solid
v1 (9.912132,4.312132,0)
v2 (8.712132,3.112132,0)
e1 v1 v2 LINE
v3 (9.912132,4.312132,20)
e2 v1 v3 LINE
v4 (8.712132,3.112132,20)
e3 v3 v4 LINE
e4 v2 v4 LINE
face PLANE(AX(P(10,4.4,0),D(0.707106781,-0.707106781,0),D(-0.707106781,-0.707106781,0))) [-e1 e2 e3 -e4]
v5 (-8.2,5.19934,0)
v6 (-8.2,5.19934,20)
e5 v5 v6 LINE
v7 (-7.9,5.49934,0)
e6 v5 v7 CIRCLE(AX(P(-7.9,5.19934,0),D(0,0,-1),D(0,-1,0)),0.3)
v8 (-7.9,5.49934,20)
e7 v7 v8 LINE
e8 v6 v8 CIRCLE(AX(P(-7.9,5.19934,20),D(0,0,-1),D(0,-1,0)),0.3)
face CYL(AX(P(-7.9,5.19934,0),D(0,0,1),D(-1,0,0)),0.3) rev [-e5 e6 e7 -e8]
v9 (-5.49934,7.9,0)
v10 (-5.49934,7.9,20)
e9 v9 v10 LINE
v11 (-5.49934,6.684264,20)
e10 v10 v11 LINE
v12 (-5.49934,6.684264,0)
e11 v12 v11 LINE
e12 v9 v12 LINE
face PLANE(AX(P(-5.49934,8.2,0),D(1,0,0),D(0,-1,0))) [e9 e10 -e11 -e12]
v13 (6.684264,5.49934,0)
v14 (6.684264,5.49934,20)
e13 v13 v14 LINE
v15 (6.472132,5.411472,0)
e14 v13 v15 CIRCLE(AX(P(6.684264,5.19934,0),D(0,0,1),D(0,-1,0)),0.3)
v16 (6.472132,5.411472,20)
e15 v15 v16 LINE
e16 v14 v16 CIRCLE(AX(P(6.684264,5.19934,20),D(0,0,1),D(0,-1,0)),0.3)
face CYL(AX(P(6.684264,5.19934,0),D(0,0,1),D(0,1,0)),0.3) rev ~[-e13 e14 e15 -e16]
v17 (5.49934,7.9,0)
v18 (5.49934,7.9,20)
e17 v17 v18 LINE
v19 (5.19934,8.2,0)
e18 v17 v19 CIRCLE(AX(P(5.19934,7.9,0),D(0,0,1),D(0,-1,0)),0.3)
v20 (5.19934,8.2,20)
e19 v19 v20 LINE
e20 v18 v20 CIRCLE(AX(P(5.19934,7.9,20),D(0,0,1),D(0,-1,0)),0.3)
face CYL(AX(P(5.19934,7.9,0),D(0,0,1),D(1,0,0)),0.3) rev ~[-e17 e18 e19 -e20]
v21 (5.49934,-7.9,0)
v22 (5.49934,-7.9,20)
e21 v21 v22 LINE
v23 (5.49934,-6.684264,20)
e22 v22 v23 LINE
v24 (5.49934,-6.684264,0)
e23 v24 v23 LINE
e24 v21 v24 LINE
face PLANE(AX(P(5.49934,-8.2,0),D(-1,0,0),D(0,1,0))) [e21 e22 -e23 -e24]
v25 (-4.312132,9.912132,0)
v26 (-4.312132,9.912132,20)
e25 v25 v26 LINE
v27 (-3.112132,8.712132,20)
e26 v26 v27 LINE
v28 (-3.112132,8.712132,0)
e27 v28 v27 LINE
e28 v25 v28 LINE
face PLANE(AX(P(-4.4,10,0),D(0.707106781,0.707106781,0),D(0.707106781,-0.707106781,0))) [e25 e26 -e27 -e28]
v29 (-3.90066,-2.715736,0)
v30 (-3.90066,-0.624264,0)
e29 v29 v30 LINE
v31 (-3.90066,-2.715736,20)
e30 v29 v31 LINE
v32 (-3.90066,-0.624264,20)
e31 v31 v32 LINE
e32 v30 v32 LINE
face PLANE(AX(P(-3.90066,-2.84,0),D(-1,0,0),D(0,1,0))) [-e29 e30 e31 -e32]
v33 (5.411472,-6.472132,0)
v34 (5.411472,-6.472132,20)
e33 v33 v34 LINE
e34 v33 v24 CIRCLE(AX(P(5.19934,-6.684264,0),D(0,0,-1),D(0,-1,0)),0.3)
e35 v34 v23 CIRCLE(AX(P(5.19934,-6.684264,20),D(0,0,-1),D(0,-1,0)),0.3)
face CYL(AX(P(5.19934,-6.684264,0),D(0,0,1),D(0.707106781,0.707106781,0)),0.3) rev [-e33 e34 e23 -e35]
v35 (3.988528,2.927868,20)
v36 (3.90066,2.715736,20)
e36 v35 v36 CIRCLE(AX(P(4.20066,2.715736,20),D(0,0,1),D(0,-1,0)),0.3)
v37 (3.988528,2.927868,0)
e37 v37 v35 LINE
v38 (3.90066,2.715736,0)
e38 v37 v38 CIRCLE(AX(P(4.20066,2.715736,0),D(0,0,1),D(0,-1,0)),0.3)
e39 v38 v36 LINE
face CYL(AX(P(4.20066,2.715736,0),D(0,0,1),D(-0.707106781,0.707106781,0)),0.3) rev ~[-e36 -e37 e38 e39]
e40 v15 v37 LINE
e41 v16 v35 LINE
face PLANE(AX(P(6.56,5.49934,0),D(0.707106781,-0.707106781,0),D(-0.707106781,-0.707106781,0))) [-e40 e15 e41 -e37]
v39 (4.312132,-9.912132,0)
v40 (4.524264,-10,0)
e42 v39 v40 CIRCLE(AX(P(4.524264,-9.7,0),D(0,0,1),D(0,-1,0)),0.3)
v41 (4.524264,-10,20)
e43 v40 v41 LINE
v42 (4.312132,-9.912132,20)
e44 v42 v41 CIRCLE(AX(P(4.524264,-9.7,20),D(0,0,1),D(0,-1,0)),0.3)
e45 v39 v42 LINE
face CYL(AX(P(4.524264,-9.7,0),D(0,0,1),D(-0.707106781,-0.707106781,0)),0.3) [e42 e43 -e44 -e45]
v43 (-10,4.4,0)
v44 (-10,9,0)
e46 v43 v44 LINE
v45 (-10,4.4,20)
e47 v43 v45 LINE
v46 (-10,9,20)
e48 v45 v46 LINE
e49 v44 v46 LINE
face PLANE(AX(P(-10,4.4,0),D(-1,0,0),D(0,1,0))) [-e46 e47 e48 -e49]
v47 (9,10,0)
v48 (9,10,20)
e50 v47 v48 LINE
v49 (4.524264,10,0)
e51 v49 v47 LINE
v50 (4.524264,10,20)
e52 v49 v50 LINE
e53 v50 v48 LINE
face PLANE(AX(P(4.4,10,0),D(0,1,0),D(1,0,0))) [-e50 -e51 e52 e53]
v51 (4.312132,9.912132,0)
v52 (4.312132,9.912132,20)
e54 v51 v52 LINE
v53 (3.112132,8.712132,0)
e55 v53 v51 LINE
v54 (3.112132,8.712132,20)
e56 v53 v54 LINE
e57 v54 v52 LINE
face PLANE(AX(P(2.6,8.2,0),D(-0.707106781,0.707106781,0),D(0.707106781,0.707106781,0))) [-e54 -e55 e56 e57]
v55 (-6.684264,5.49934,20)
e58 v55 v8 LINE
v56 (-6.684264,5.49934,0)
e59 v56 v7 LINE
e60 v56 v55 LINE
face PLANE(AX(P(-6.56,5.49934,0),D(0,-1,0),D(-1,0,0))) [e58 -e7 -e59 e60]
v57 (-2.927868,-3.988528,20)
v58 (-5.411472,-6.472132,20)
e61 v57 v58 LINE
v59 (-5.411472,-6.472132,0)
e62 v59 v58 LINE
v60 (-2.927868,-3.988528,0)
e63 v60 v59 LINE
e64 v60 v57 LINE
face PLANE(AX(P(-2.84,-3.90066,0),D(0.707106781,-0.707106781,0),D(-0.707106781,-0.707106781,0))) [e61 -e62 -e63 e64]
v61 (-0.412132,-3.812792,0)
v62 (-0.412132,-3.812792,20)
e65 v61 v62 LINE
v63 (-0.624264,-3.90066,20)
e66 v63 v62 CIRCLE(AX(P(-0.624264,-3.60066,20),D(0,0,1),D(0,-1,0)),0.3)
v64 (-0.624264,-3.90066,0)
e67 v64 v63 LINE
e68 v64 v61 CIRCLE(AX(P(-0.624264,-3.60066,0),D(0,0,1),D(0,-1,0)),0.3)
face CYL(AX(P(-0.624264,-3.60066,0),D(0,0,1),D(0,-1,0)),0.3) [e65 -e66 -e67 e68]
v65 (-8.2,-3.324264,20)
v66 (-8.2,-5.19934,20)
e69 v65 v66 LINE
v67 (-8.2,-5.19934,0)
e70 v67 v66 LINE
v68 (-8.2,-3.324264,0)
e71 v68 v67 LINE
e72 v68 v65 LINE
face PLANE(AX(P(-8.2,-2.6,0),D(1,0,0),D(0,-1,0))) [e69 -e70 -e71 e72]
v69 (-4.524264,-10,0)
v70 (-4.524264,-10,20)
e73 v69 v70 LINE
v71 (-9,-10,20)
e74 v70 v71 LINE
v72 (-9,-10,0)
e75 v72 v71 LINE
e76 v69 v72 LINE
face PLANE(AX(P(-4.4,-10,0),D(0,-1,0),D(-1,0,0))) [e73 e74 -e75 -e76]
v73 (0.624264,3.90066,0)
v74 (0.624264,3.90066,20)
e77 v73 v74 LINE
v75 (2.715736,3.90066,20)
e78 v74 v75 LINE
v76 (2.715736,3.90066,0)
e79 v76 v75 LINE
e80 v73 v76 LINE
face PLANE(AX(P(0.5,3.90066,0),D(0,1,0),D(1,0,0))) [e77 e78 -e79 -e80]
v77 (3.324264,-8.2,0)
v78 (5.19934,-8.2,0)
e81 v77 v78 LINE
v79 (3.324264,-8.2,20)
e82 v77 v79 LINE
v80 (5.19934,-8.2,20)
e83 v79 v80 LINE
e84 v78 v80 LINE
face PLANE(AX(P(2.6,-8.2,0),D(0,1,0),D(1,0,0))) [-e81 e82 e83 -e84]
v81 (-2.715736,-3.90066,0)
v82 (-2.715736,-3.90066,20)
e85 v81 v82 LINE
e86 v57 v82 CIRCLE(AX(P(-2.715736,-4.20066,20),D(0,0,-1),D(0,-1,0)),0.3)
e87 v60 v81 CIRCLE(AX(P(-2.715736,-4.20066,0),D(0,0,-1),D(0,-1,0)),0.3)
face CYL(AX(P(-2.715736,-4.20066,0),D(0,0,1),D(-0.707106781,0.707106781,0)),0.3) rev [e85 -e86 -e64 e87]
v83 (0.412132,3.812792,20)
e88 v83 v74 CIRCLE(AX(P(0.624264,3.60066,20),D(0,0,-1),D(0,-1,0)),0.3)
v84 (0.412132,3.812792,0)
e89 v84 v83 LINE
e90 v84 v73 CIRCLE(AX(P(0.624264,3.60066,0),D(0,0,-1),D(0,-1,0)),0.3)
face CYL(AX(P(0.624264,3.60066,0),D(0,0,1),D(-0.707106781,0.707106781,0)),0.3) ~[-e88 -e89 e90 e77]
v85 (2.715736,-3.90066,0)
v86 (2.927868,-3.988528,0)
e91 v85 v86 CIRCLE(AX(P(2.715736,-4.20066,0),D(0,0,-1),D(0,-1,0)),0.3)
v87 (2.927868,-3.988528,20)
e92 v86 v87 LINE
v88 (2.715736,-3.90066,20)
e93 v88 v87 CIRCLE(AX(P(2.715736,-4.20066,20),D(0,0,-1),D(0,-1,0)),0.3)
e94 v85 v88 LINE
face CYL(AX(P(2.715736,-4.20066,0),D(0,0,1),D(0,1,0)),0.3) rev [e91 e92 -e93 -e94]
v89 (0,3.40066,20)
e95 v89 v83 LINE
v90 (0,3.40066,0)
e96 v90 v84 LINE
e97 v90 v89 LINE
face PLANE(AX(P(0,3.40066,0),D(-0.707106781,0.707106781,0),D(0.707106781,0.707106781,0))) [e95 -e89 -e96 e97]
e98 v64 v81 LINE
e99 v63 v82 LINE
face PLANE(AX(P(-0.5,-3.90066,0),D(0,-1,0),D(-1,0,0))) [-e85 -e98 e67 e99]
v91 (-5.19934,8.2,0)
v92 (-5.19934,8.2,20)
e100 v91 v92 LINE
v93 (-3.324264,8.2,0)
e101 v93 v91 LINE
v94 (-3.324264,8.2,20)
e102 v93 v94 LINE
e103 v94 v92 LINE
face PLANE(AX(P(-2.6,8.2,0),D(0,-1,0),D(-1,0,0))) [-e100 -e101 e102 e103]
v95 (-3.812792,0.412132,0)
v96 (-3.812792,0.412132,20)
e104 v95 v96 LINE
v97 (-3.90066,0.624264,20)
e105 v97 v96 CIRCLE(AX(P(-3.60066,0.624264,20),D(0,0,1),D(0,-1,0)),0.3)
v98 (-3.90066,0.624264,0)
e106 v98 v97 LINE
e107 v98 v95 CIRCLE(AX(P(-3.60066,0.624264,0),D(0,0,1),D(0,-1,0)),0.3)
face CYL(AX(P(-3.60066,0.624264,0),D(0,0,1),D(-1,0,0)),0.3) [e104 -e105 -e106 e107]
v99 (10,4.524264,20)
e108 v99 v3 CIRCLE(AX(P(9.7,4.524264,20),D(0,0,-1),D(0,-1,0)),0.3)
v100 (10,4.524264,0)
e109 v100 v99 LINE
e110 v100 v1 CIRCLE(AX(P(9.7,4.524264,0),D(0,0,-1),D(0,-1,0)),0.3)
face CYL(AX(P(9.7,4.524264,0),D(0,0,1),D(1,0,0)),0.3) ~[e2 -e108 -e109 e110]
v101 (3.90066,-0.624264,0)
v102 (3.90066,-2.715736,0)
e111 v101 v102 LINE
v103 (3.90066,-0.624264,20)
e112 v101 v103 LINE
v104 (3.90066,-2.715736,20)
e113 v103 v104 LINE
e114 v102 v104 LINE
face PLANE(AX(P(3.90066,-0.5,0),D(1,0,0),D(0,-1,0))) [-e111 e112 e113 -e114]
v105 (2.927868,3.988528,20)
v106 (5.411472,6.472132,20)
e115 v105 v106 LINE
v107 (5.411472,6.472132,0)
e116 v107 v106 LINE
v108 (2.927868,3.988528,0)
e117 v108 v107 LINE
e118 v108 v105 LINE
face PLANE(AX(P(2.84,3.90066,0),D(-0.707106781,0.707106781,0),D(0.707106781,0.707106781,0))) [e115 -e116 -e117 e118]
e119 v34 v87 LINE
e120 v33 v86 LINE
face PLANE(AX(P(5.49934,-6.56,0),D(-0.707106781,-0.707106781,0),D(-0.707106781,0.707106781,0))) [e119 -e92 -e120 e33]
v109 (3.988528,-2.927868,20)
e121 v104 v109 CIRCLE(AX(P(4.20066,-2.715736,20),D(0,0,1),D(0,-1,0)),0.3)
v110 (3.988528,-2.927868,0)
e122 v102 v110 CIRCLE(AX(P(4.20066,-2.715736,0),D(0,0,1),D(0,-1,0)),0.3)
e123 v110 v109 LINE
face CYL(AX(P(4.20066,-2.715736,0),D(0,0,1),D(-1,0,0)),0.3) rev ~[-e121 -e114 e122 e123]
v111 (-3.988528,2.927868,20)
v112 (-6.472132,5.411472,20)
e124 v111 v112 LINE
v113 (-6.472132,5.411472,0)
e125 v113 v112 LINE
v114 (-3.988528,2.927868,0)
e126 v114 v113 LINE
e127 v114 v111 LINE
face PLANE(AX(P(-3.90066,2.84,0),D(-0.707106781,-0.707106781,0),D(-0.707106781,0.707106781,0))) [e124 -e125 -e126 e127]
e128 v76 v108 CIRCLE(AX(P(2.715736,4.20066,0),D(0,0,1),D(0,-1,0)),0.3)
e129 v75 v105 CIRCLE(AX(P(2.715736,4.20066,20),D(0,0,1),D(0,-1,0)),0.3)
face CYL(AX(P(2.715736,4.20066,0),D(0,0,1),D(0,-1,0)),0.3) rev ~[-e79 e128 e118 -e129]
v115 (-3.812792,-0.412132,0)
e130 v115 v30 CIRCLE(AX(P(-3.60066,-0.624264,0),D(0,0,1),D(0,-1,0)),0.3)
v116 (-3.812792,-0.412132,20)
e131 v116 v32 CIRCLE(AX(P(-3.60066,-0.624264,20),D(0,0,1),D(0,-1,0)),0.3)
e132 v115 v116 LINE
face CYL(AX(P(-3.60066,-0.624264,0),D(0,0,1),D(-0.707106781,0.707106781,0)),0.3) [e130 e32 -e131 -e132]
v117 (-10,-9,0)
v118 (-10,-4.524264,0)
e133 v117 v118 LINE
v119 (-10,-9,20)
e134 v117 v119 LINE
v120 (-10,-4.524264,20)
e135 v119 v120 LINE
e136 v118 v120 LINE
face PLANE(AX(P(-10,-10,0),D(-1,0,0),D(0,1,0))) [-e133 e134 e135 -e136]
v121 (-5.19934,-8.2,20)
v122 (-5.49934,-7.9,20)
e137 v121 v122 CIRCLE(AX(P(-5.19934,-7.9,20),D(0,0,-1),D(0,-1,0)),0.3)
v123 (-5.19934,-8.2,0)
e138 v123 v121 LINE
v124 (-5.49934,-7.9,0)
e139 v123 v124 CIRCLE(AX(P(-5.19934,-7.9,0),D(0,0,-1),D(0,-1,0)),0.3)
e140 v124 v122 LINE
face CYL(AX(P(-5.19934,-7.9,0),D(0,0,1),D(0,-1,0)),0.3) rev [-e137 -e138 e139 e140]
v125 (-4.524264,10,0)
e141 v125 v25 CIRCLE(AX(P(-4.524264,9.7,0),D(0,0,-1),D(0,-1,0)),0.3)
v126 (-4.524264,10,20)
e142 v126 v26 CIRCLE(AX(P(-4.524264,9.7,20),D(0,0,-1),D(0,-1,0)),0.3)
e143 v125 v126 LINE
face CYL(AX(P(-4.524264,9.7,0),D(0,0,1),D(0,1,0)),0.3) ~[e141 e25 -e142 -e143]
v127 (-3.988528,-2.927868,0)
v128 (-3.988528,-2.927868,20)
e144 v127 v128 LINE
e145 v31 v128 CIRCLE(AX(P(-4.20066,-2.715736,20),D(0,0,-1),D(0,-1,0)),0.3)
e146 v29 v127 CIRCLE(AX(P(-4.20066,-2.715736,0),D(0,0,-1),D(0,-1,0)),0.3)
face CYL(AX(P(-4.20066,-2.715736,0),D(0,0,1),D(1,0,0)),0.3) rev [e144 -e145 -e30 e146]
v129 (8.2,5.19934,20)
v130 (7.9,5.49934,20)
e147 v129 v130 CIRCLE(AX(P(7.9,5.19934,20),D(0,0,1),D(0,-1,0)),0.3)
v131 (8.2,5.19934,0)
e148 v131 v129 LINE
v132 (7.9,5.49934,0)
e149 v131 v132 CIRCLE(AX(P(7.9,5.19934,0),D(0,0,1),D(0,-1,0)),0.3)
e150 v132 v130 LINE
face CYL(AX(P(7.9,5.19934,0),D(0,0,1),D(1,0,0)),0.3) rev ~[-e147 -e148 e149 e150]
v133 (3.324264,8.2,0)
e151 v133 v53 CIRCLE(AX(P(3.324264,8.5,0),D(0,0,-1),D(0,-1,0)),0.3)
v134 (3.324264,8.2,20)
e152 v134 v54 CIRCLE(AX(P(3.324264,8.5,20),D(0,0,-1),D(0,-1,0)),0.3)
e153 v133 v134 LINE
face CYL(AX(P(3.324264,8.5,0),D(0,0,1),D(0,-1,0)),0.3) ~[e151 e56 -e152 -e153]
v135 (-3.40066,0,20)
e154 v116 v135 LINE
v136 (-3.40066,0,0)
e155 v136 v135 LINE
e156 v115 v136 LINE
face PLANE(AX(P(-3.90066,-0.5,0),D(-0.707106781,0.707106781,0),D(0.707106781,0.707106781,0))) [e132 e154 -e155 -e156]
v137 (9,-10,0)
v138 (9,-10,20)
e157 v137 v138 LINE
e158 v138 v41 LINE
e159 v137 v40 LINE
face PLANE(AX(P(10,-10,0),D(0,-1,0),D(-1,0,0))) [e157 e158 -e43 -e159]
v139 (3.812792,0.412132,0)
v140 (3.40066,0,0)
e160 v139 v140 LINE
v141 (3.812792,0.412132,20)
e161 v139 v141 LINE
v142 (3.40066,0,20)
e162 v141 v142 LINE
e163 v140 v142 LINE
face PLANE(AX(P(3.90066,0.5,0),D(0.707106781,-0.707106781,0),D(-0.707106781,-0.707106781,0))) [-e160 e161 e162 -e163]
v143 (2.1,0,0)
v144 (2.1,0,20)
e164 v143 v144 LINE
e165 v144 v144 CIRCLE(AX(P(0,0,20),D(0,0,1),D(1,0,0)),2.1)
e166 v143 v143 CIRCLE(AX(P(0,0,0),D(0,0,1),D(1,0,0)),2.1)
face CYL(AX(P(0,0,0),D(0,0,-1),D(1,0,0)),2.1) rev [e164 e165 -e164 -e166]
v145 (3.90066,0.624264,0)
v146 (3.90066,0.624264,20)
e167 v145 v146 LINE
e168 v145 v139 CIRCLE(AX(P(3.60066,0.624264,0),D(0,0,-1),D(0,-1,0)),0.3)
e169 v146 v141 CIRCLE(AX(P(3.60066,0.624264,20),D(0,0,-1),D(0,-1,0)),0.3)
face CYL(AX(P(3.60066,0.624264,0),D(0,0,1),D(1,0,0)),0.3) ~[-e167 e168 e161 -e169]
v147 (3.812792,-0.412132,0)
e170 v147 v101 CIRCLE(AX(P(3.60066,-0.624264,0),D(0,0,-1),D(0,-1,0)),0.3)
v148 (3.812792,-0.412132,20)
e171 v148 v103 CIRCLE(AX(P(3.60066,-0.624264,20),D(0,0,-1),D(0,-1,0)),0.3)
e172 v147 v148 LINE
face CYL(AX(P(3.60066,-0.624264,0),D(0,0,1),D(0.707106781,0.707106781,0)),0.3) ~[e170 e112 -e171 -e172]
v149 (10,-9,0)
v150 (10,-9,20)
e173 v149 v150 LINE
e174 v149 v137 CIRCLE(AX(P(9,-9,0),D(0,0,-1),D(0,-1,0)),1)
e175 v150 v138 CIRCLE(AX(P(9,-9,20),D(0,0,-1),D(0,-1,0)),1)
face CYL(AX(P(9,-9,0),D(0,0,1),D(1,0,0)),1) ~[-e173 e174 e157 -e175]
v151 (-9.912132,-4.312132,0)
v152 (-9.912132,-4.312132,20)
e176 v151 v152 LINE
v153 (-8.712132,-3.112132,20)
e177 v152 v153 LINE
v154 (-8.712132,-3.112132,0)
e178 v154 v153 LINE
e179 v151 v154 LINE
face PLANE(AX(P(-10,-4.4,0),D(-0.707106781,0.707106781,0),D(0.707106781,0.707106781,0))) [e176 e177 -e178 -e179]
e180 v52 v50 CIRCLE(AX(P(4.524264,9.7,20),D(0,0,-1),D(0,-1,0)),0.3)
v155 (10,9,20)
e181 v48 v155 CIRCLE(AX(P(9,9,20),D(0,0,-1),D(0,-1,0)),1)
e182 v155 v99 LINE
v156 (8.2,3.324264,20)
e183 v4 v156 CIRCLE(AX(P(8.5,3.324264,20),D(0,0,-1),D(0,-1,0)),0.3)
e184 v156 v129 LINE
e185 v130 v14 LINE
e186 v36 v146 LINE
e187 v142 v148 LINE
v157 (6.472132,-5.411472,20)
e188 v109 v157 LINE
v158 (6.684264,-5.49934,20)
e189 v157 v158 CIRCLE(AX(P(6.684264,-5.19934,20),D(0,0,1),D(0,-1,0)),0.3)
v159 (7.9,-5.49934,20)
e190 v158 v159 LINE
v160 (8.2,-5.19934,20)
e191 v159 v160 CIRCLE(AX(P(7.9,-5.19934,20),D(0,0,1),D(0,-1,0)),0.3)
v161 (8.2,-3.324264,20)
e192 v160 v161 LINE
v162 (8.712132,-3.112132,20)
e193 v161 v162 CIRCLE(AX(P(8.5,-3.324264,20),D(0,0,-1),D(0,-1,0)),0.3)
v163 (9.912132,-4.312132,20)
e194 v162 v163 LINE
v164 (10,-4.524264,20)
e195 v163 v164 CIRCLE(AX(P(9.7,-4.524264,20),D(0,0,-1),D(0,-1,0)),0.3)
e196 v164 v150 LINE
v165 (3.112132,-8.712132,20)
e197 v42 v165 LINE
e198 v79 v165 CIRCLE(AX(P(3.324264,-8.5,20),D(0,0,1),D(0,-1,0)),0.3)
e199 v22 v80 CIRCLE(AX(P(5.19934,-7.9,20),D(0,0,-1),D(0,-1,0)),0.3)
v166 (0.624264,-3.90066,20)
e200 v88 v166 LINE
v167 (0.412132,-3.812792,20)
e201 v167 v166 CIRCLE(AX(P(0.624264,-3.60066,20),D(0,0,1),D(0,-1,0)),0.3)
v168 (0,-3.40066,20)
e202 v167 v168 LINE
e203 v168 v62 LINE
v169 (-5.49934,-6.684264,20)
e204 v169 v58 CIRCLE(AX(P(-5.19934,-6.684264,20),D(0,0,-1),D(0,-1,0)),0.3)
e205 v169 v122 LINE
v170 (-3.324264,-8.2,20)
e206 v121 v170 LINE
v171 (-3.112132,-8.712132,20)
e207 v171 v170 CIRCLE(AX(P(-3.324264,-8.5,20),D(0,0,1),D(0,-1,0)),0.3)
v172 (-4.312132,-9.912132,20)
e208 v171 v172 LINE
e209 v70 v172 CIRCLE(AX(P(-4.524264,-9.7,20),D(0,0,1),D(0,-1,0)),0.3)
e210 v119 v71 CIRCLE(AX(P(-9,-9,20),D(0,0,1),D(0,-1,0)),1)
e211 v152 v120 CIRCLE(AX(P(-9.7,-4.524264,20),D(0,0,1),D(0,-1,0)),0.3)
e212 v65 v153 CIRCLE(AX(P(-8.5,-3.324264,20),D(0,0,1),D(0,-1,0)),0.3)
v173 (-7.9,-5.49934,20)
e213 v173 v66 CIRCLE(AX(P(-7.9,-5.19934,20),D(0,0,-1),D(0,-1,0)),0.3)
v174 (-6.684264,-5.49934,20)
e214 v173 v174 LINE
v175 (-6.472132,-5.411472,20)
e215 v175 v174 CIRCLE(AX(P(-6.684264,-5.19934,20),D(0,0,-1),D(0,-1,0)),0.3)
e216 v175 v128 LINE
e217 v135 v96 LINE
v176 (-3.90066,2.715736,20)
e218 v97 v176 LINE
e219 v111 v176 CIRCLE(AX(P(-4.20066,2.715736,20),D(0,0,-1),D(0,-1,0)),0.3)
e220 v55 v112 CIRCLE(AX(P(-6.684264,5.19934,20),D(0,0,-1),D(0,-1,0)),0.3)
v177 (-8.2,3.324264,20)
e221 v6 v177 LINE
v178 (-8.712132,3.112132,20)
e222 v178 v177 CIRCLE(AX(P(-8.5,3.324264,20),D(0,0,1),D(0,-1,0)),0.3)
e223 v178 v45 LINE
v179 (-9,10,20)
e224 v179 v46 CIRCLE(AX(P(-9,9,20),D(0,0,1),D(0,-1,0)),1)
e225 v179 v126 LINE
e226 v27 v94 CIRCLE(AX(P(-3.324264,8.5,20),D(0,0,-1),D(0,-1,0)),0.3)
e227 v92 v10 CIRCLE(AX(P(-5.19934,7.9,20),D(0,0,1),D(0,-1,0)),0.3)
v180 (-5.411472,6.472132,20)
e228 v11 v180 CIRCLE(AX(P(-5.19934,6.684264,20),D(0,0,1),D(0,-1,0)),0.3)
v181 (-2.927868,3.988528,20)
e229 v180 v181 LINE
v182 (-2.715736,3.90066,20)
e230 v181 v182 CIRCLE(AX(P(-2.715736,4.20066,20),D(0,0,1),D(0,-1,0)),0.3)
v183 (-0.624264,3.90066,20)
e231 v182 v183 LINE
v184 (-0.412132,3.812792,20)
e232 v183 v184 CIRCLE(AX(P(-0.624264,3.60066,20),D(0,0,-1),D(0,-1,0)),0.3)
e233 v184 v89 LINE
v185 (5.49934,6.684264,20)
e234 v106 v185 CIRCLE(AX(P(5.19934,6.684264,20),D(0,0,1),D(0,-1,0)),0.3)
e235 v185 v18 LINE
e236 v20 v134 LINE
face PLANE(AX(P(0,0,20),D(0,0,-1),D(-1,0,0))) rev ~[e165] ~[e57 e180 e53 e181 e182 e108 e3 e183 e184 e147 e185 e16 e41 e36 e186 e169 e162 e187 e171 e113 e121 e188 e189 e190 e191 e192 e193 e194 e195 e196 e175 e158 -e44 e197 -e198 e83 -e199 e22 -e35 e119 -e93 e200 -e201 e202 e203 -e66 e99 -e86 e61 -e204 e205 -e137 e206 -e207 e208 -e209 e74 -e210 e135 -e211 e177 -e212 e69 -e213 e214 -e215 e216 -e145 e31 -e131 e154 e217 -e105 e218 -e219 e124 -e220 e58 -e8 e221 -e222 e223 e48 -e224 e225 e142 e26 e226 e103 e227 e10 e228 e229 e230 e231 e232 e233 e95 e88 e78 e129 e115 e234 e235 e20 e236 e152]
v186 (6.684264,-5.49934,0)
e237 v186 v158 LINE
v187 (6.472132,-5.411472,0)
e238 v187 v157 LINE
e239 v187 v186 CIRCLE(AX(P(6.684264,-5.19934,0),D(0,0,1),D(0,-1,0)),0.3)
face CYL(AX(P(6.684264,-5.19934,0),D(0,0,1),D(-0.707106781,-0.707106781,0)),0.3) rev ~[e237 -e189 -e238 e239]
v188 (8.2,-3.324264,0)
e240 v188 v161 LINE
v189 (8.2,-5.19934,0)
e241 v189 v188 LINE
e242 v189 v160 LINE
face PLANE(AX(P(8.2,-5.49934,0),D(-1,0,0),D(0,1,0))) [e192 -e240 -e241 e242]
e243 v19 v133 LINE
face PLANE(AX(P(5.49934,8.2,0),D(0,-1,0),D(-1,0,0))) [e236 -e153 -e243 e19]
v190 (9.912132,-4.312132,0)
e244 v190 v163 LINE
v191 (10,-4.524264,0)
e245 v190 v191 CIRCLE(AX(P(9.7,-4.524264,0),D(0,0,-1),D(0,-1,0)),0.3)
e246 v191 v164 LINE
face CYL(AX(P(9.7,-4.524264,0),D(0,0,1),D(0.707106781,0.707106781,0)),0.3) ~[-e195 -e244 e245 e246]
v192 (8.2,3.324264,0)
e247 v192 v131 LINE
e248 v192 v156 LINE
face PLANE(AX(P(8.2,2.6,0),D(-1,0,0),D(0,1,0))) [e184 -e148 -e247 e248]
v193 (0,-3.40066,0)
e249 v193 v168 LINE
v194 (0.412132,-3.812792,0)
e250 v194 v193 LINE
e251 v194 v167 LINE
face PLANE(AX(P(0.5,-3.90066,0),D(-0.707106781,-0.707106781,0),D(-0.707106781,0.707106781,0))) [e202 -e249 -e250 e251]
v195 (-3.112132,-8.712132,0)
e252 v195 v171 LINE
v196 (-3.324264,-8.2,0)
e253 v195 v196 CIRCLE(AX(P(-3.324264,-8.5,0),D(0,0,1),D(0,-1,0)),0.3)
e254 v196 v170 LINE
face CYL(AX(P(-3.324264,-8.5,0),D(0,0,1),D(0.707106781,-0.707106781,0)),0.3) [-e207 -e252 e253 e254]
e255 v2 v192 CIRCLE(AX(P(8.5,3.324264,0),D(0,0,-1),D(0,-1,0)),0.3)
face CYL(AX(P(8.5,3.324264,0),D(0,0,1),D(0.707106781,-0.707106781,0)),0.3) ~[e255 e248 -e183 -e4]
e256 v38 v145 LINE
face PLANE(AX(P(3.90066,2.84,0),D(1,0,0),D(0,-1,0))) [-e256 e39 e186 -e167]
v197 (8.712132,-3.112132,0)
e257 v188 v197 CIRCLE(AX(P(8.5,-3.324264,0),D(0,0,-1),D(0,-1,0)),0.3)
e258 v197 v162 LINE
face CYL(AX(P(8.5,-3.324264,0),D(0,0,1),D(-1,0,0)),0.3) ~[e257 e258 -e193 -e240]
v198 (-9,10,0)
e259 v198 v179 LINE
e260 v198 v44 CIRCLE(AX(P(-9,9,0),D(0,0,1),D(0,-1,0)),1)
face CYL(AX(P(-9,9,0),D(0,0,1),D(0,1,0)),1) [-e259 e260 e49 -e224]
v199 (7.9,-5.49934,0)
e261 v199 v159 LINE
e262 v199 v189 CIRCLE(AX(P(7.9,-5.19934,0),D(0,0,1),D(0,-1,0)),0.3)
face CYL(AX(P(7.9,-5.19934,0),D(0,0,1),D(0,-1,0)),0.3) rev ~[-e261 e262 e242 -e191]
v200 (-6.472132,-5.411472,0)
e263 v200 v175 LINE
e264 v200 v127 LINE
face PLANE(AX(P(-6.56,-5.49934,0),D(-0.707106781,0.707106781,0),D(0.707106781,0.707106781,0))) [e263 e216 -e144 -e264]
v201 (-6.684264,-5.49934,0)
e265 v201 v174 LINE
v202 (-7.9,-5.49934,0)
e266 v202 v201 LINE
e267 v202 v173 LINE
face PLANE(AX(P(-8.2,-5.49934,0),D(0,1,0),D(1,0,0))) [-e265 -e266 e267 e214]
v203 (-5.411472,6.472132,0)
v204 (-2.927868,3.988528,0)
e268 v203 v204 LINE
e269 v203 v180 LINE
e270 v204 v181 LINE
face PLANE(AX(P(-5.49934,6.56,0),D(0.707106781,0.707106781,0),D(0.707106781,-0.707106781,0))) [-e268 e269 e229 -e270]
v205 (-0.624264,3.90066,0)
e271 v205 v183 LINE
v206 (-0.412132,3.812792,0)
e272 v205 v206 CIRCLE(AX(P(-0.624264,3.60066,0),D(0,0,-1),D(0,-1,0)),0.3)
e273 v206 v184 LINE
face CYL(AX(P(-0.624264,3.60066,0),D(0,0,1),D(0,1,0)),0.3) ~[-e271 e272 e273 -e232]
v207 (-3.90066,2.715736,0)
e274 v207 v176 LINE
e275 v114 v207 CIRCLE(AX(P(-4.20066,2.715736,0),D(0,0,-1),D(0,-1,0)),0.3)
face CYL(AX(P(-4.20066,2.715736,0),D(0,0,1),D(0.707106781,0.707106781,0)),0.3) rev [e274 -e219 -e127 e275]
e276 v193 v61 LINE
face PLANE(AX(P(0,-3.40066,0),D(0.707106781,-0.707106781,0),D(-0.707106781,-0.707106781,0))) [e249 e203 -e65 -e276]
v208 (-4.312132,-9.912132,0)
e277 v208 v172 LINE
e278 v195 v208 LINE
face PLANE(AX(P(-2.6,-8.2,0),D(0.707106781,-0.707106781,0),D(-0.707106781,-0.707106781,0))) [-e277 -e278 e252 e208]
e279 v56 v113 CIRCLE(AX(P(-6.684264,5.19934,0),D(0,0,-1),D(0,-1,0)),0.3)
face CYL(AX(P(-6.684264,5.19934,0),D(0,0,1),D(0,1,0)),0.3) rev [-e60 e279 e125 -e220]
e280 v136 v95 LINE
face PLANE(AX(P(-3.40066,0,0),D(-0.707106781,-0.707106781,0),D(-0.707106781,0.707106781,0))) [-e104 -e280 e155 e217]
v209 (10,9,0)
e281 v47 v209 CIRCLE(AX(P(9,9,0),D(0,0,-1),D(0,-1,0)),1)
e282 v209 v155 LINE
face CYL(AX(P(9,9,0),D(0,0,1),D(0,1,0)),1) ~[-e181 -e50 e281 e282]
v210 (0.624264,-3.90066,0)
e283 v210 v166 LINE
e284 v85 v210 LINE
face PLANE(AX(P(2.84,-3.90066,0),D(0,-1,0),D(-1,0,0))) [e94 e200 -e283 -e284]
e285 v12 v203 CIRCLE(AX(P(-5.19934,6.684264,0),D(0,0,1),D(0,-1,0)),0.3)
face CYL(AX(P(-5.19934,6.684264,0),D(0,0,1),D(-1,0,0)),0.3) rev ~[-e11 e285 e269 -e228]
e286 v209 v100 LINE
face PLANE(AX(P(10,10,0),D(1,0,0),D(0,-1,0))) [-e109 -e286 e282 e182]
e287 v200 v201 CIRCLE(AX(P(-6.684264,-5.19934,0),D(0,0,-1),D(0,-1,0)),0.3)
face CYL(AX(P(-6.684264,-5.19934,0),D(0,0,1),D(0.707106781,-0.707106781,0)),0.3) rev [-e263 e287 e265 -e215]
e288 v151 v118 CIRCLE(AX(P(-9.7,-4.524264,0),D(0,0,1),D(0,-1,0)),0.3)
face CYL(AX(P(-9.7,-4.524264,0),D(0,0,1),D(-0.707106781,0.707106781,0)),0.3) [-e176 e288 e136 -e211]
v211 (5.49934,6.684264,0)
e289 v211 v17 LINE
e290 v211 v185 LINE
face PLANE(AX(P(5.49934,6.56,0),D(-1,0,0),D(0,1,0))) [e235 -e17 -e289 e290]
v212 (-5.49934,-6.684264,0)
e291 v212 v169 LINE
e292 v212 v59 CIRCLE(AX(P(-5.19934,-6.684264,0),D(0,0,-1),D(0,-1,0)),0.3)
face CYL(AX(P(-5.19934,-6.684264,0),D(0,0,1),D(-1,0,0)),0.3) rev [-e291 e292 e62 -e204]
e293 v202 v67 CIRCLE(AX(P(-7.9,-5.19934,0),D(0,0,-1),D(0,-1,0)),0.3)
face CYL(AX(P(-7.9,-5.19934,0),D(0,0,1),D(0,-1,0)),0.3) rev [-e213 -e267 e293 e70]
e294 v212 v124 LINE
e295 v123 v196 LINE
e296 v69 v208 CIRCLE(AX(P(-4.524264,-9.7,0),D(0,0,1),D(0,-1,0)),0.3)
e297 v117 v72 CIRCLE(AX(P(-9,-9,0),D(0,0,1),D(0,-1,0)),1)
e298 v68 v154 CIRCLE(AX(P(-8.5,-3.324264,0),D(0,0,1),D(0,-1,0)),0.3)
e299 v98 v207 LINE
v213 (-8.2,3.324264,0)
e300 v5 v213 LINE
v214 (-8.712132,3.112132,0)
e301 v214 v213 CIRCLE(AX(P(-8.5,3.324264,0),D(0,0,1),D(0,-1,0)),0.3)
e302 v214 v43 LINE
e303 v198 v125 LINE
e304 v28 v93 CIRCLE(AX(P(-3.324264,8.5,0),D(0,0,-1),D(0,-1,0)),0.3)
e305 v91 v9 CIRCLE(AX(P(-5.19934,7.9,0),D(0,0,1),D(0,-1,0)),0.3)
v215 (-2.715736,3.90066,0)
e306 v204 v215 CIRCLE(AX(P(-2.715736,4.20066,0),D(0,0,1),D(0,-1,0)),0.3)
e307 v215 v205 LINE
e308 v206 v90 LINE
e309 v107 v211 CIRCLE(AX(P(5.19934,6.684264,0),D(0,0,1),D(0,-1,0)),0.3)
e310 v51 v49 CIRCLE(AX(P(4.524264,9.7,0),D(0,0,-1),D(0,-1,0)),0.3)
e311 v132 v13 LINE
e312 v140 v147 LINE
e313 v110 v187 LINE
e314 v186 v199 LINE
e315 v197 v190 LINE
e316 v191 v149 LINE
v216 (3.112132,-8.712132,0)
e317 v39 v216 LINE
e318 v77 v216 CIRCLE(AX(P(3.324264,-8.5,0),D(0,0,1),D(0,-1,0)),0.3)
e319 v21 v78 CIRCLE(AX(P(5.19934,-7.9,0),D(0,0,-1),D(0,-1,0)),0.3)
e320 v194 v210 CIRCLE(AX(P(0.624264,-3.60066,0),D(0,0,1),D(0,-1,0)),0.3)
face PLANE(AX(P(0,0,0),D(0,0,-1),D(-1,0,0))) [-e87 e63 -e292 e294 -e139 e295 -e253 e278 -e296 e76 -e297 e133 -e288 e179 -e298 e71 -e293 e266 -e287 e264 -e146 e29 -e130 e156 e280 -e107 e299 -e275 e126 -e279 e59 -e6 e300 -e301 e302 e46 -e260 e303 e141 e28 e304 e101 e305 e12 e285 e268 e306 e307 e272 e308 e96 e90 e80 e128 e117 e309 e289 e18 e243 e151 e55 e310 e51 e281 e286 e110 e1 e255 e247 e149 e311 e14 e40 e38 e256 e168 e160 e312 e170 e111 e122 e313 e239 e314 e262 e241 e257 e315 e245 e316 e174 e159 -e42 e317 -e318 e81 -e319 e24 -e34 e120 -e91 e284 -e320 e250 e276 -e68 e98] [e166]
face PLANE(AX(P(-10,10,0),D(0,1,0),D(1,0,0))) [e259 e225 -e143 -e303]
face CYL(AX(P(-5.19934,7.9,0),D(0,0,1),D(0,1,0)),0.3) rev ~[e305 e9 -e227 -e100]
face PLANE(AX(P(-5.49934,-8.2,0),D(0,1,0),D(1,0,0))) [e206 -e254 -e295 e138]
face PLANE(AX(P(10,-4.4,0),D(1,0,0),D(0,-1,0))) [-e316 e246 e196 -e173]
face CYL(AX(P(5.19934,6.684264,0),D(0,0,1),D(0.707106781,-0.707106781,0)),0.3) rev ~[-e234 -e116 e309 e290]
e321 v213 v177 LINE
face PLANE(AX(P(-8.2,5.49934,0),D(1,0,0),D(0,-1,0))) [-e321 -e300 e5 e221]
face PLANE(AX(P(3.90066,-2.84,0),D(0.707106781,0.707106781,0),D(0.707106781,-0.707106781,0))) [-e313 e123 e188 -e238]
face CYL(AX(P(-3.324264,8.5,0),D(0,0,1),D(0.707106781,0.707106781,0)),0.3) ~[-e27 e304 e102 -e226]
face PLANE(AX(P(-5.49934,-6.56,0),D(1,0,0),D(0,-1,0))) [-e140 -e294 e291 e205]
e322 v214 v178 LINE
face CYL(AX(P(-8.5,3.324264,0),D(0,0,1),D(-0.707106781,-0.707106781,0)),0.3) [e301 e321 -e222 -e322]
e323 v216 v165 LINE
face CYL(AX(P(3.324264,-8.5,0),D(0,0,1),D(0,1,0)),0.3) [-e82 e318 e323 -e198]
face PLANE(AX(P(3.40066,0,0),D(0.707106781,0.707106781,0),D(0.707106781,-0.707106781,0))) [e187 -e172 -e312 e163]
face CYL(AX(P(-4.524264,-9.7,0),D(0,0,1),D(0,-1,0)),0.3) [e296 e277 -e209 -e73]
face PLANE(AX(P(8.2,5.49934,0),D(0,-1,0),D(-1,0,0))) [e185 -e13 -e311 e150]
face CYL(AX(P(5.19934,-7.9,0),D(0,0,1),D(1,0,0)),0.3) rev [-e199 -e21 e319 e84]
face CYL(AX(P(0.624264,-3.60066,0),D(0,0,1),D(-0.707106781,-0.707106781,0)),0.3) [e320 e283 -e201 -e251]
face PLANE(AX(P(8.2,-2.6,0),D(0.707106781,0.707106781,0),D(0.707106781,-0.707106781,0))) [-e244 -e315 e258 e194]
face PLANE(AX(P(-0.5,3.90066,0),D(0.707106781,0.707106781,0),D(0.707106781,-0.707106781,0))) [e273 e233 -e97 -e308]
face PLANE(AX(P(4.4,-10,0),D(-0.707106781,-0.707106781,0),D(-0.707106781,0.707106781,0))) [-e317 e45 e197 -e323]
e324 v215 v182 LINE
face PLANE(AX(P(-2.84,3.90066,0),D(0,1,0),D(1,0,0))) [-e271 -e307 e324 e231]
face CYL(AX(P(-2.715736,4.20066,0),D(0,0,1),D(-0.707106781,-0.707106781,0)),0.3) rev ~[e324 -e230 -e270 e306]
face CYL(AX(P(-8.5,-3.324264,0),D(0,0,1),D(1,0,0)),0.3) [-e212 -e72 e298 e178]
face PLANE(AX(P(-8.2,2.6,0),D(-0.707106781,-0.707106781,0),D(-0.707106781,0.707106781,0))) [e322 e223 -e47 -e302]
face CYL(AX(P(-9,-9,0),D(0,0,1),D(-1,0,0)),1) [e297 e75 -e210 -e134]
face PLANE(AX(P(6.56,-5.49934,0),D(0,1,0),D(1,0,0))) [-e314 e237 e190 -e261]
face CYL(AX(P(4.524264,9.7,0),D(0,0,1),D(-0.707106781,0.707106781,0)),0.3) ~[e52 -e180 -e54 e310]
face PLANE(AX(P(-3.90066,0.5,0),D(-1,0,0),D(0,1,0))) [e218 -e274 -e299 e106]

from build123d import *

# Parameters (mm, degrees)
SKETCH_1_R      = 2.1
EXTRUDE_1_DEPTH = 20
FILLET_1_R      = 1
FILLET_2_R      = 0.3


with BuildPart() as part:
    # Эскиз1 → Бобышка-Вытянуть1 (new body)
    with BuildSketch(Plane.XY):
        Polygon((-10, 10), (-4.4, 10), (-2.6, 8.2), (-5.499339828, 8.2), (-5.499339828, 6.56), (-2.84, 3.900660172), (-0.5, 3.900660172), (0, 3.400660172), (0.5, 3.900660172), (2.84, 3.900660172), (5.499339828, 6.56), (5.499339828, 8.2), (2.6, 8.2), (4.4, 10), (10, 10), (10, 4.4), (8.2, 2.6), (8.2, 5.499339828), (6.56, 5.499339828), (3.900660172, 2.84), (3.900660172, 0.5), (3.400660172, 0), (3.900660172, -0.5), (3.900660172, -2.84), (6.56, -5.499339828), (8.2, -5.499339828), (8.2, -2.6), (10, -4.4), (10, -10), (4.4, -10), (2.6, -8.2), (5.499339828, -8.2), (5.499339828, -6.56), (2.84, -3.900660172), (0.5, -3.900660172), (0, -3.400660172), (-0.5, -3.900660172), (-2.84, -3.900660172), (-5.499339828, -6.56), (-5.499339828, -8.2), (-2.6, -8.2), (-4.4, -10), (-10, -10), (-10, -4.4), (-8.2, -2.6), (-8.2, -5.499339828), (-6.56, -5.499339828), (-3.900660172, -2.84), (-3.900660172, -0.5), (-3.400660172, 0), (-3.900660172, 0.5), (-3.900660172, 2.84), (-6.56, 5.499339828), (-8.2, 5.499339828), (-8.2, 2.6), (-10, 4.4), align=None)
        Circle(SKETCH_1_R, mode=Mode.SUBTRACT)
    extrude(amount=EXTRUDE_1_DEPTH)

    # Скругление1
    fillet_1_edges = [part.edges().sort_by_distance(p)[0] for p in [
        (-10, 10, 10),
        (10, 10, 10),
        (10, -10, 10),
        (-10, -10, 10),
    ]]
    fillet(fillet_1_edges, radius=FILLET_1_R)

    # Скругление2
    fillet_2_edges = [part.edges().sort_by_distance(p)[0] for p in [
        (-4.4, 10, 10),
        (-2.6, 8.2, 10),
        (-5.499339828, 8.2, 10),
        (-5.499339828, 6.56, 10),
        (-2.84, 3.900660172, 10),
        (-0.5, 3.900660172, 10),
        (0.5, 3.900660172, 10),
        (2.84, 3.900660172, 10),
        (5.499339828, 6.56, 10),
        (5.499339828, 8.2, 10),
        (2.6, 8.2, 10),
        (4.4, 10, 10),
        (10, 4.4, 10),
        (8.2, 2.6, 10),
        (8.2, 5.499339828, 10),
        (6.56, 5.499339828, 10),
        (3.900660172, 2.84, 10),
        (3.900660172, 0.5, 10),
        (3.900660172, -0.5, 10),
        (3.900660172, -2.84, 10),
        (6.56, -5.499339828, 10),
        (8.2, -5.499339828, 10),
        (8.2, -2.6, 10),
        (10, -4.4, 10),
        (4.4, -10, 10),
        (2.6, -8.2, 10),
        (5.499339828, -8.2, 10),
        (5.499339828, -6.56, 10),
        (2.84, -3.900660172, 10),
        (0.5, -3.900660172, 10),
        (-0.5, -3.900660172, 10),
        (-2.84, -3.900660172, 10),
        (-5.499339828, -6.56, 10),
        (-5.499339828, -8.2, 10),
        (-2.6, -8.2, 10),
        (-4.4, -10, 10),
        (-10, -4.4, 10),
        (-8.2, -2.6, 10),
        (-8.2, -5.499339828, 10),
        (-6.56, -5.499339828, 10),
        (-3.900660172, -2.84, 10),
        (-3.900660172, -0.5, 10),
        (-3.900660172, 0.5, 10),
        (-3.900660172, 2.84, 10),
        (-6.56, 5.499339828, 10),
        (-8.2, 5.499339828, 10),
        (-8.2, 2.6, 10),
    ]]
    fillet(fillet_2_edges, radius=FILLET_2_R)


solid = part.part
